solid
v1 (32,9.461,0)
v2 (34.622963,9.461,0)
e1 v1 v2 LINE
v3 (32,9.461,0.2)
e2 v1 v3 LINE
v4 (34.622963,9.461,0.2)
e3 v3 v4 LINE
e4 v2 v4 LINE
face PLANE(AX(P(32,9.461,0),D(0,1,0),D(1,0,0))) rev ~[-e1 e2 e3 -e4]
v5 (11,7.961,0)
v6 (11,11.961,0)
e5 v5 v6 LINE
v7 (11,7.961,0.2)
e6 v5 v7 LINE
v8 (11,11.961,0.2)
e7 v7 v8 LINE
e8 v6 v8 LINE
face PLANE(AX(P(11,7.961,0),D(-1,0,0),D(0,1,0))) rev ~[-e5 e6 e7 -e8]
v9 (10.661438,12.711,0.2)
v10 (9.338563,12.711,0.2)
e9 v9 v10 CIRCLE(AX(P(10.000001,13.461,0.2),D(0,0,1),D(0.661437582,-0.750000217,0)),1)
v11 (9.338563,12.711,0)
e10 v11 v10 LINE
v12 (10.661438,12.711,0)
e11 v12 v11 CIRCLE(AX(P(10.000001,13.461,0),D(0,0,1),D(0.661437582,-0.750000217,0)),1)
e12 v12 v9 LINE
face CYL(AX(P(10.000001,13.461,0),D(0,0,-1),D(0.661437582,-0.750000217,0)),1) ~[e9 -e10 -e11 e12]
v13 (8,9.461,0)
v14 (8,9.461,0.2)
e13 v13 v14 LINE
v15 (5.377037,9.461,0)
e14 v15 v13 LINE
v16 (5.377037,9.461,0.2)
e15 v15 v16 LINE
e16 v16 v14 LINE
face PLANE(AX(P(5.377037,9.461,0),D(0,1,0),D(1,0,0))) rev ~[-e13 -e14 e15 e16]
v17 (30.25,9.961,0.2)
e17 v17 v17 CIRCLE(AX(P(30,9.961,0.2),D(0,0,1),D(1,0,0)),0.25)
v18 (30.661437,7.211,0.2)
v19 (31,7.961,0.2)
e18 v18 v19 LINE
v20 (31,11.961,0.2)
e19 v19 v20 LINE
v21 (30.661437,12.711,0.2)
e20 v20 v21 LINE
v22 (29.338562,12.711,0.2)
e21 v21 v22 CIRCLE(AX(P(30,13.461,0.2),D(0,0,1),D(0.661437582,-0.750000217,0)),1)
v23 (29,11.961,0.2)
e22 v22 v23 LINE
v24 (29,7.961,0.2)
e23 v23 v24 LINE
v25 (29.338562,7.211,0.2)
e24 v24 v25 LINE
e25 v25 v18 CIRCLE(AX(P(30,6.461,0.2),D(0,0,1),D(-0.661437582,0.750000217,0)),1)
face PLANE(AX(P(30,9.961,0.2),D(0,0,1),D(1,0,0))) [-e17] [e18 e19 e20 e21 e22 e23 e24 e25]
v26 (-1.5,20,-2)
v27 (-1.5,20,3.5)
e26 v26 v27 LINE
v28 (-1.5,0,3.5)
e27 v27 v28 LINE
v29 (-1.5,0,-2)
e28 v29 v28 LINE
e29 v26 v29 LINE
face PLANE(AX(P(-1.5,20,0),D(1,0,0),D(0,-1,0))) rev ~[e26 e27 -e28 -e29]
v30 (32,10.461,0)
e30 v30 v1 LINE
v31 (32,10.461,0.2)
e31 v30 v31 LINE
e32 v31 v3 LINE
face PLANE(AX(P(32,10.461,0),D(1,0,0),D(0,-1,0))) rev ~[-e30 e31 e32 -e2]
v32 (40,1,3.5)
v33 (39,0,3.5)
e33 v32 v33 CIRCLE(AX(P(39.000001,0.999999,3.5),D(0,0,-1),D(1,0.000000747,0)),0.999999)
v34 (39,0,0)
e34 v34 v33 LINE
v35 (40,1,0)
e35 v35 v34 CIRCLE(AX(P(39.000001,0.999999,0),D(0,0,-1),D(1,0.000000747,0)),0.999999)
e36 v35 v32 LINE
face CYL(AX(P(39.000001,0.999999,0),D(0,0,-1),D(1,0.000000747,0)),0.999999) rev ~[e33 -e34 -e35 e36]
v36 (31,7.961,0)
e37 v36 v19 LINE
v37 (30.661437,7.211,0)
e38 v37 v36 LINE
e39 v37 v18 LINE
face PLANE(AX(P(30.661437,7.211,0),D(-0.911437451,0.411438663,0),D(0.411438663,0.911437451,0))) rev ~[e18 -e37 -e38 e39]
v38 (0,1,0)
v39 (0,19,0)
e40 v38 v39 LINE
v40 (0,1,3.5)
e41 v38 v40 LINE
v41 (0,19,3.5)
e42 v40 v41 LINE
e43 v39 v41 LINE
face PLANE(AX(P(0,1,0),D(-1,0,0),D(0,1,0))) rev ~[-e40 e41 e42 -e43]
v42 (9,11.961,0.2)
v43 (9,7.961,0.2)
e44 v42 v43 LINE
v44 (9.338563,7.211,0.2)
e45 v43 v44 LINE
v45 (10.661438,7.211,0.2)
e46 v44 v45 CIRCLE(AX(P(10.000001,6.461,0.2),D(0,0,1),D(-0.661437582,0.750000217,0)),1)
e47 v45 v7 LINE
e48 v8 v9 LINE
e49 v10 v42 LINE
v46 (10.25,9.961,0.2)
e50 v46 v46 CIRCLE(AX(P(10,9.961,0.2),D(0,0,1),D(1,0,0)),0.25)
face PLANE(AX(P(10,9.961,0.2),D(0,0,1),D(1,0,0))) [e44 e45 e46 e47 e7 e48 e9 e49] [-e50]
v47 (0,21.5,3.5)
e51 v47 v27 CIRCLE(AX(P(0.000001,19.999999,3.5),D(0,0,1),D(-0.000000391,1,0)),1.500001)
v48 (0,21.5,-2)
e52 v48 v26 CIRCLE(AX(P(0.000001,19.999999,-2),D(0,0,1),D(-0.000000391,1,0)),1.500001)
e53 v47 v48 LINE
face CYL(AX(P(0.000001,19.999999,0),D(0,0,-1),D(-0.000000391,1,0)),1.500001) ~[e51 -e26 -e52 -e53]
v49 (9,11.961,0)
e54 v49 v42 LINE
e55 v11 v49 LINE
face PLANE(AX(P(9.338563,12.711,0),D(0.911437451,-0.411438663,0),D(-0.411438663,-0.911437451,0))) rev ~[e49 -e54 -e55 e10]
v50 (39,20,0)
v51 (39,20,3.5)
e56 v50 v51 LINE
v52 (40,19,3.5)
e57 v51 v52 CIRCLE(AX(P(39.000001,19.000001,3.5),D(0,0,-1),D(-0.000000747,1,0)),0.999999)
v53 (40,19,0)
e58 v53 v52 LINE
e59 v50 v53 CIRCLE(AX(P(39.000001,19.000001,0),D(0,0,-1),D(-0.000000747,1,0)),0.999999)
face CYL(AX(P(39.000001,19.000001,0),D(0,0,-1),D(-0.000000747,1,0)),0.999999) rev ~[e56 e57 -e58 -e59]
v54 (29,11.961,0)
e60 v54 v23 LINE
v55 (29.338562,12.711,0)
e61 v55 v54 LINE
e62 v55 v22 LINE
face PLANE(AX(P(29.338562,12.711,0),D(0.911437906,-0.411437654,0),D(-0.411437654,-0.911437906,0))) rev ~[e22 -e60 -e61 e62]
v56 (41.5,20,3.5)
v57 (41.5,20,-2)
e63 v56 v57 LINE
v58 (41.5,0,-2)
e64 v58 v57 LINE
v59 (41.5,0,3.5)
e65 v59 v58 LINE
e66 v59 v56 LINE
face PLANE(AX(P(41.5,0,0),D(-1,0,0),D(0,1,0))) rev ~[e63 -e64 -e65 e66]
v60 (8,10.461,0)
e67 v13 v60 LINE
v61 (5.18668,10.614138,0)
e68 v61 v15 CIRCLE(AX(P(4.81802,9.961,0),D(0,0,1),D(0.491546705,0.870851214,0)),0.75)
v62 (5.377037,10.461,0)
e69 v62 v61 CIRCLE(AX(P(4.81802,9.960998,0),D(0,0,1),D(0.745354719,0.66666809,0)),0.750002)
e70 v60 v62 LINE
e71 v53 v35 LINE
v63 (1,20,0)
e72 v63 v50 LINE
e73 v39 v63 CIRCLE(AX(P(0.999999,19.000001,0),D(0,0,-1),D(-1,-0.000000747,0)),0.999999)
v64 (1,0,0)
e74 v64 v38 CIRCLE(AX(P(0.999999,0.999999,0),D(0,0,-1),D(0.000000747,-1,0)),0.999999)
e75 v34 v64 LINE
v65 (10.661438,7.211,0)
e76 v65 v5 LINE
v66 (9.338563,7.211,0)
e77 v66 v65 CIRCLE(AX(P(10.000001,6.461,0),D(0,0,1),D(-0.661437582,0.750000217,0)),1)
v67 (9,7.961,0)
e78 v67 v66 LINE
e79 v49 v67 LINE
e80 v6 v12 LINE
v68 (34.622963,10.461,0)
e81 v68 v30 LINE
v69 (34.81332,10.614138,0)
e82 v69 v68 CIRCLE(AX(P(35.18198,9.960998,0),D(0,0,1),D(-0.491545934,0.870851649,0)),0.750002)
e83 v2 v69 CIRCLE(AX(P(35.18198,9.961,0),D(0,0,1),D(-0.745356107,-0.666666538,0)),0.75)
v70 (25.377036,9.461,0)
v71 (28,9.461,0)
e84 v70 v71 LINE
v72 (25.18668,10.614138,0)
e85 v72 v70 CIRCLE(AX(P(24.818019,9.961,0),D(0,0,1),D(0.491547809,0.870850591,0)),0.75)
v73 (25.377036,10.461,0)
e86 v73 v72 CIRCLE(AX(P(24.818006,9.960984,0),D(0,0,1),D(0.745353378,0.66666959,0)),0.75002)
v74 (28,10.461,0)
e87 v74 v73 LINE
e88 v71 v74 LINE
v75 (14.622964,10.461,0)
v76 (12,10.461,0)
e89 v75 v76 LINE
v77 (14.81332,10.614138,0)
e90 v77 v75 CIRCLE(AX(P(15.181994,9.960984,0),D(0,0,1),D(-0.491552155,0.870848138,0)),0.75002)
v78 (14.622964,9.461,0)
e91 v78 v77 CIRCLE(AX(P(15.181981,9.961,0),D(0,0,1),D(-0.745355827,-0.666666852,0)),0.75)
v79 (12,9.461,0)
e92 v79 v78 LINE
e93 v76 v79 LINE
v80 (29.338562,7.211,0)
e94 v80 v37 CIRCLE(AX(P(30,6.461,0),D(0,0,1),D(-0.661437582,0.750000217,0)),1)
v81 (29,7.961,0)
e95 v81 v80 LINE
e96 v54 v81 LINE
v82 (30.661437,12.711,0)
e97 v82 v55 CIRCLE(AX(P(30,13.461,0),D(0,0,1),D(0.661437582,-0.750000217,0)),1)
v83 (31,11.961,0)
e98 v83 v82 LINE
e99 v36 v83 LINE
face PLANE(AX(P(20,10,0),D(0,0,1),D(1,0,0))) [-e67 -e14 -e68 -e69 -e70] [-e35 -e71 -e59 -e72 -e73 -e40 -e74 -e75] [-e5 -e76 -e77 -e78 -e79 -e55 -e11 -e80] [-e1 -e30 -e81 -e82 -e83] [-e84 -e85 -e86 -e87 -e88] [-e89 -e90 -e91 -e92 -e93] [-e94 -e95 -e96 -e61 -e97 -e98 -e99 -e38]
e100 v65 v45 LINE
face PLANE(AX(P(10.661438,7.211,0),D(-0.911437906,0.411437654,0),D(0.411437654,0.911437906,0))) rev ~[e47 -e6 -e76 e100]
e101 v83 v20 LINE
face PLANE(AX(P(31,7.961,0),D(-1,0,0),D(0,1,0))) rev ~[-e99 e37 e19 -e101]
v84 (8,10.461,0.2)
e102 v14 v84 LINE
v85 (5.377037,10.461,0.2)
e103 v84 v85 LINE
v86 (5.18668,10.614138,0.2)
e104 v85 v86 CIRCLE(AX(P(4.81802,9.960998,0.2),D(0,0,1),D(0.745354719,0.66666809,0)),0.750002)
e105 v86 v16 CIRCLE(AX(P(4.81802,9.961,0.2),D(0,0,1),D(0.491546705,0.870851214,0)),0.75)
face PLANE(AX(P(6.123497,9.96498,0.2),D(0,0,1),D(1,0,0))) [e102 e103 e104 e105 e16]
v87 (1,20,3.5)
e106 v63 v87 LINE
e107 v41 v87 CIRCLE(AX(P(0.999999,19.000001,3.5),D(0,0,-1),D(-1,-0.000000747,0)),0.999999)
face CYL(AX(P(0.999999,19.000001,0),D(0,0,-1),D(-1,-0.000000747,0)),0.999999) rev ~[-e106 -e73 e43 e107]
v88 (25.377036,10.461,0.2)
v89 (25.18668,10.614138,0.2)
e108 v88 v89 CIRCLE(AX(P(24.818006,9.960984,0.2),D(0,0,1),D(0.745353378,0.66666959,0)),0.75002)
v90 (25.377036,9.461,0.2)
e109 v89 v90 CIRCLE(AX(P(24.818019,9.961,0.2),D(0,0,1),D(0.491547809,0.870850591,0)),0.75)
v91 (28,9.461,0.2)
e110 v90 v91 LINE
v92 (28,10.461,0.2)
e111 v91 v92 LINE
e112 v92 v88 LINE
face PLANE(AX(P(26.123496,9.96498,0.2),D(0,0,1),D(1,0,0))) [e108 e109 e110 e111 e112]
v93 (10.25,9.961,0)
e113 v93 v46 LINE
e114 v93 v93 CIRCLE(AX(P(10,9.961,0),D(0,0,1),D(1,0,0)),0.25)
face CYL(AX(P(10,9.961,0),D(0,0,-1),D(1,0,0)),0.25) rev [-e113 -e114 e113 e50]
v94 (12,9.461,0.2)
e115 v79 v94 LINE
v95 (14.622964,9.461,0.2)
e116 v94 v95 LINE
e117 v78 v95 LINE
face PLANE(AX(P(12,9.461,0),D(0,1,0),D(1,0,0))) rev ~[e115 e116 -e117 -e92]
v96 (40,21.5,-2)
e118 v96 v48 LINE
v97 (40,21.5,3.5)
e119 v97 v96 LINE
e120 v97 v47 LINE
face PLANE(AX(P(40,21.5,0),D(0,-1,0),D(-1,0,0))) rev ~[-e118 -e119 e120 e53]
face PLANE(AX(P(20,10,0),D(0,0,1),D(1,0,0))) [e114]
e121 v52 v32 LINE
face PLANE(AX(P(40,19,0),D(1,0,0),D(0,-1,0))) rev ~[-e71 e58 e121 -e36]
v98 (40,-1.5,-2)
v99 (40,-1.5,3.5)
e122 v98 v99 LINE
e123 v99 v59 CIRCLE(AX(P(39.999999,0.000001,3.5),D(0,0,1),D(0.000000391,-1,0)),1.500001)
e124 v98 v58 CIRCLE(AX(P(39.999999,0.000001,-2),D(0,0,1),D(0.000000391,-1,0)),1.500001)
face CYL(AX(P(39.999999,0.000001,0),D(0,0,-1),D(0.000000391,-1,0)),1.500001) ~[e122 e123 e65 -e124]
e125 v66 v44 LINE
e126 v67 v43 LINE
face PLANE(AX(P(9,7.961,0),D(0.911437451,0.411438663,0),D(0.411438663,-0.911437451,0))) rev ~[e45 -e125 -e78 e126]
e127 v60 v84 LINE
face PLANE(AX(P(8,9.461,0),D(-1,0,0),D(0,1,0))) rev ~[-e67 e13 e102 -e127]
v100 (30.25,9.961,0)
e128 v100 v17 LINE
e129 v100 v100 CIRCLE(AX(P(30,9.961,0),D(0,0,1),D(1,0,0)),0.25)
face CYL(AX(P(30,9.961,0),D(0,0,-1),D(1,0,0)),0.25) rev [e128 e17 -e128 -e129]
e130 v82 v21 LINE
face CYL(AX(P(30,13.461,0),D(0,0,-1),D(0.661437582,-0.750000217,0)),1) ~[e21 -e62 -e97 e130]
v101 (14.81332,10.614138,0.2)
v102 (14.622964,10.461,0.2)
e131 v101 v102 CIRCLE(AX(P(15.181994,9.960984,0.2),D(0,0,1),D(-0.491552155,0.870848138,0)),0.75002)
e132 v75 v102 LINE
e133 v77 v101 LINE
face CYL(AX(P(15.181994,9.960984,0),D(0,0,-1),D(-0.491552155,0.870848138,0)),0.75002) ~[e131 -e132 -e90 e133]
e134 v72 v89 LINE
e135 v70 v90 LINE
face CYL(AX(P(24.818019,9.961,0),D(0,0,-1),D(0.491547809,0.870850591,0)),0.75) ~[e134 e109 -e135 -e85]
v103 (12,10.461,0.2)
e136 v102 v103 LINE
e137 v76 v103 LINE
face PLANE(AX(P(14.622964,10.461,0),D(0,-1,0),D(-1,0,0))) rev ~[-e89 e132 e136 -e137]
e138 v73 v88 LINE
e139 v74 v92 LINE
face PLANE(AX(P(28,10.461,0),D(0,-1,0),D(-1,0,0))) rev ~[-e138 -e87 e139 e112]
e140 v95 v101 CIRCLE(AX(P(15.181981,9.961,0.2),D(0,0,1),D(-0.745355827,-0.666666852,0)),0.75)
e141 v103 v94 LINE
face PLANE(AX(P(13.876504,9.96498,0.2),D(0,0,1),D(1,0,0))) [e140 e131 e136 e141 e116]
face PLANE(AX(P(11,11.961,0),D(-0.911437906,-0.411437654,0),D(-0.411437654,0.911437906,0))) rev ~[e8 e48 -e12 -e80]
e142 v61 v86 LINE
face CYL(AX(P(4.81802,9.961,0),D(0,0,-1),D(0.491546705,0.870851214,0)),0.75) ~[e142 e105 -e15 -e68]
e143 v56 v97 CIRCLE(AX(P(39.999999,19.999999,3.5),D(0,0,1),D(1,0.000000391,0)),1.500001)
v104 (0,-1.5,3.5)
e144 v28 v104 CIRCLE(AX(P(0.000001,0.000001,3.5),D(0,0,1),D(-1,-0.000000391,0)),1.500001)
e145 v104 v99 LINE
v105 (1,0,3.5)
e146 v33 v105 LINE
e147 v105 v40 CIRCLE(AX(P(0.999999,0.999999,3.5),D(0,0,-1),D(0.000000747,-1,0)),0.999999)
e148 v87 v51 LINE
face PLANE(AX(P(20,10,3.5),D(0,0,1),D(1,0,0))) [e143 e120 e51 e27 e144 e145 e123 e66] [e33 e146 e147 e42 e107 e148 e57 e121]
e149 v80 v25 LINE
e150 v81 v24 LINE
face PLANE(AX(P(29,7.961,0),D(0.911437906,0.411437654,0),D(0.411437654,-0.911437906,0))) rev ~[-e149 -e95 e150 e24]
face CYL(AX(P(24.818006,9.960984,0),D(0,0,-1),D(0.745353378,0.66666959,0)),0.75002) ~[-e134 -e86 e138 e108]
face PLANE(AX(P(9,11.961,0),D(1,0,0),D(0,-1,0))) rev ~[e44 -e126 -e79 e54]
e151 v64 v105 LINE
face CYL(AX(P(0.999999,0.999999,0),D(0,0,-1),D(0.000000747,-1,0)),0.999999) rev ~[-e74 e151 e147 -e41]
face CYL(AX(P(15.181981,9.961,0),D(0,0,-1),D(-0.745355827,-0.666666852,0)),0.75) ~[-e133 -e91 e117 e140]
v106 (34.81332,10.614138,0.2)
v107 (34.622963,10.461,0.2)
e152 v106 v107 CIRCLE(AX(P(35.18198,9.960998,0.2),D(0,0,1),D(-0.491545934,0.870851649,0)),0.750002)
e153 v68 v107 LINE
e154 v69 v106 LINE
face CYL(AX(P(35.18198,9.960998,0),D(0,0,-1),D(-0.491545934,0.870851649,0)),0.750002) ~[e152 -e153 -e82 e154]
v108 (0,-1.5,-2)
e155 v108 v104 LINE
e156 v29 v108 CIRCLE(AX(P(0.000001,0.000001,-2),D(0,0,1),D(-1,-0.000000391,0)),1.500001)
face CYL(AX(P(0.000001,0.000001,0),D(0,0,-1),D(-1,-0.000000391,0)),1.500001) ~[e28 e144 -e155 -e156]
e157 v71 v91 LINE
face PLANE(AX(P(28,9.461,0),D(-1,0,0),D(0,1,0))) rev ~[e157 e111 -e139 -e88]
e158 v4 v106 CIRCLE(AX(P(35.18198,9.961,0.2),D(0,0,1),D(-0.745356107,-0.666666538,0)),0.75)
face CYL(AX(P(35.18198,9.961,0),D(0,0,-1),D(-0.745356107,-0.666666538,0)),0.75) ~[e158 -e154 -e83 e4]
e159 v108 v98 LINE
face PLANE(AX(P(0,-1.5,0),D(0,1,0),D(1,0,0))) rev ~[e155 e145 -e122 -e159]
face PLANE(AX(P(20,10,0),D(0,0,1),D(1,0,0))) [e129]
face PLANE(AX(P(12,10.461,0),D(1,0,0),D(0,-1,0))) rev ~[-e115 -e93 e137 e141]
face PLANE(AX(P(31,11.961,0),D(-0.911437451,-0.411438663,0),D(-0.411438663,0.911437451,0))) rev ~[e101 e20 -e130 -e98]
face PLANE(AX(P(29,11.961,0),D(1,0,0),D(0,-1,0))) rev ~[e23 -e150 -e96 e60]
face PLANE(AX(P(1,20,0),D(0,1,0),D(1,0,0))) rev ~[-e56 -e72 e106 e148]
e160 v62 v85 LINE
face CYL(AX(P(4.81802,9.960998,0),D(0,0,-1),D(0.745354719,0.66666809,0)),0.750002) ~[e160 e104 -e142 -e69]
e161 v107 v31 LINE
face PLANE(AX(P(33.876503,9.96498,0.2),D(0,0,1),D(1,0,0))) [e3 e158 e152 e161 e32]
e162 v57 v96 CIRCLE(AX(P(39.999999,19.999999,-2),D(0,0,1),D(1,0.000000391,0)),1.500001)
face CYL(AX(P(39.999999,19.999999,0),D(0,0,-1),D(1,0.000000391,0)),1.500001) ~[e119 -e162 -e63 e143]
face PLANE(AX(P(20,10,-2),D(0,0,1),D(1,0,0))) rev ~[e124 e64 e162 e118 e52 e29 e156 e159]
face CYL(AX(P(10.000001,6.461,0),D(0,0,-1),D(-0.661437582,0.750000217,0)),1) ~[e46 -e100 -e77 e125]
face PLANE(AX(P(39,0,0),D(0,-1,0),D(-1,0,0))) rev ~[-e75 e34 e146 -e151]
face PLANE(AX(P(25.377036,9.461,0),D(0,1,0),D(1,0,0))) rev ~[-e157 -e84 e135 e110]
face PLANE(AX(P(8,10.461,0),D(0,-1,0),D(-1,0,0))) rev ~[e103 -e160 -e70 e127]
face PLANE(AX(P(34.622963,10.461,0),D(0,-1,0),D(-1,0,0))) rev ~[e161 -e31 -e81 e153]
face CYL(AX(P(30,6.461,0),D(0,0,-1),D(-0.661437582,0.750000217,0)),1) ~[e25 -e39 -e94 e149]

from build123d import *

# Parameters (mm, degrees)
F0_R     = 0.25
F1_DEPTH = 2
F2_DEPTH = 3.5
F3_DEPTH = 0.2


with BuildPart() as f1:
    # F0 (on Top) → F1 (new body)
    with BuildSketch(Plane.XY):
        with BuildLine():
            ThreePointArc((0, 21.5), (-1.06066, 21.06066), (-1.5, 20))
            Line((-1.5, 20), (-1.5, 0))
            ThreePointArc((-1.5, 0), (-1.06066, -1.06066), (0, -1.5))
            Line((0, -1.5), (40, -1.5))
            ThreePointArc((40, -1.5), (41.06066, -1.06066), (41.5, 0))
            Line((41.5, 0), (41.5, 20))
            ThreePointArc((41.5, 20), (41.06066, 21.06066), (40, 21.5))
            Line((40, 21.5), (0, 21.5))
        make_face()
        with BuildLine():
            Line((19.75, 0), (1, 0))
            ThreePointArc((1, 0), (0.292893, 0.292893), (0, 1))
            Line((0, 1), (0, 19))
            ThreePointArc((0, 19), (0.292893, 19.707107), (1, 20))
            Line((1, 20), (19.75, 20))
            Line((19.75, 20), (20.25, 20))
            Line((20.25, 20), (39, 20))
            ThreePointArc((39, 20), (39.707107, 19.707107), (40, 19))
            Line((40, 19), (40, 1))
            ThreePointArc((40, 1), (39.707107, 0.292893), (39, 0))
            Line((39, 0), (20.25, 0))
            Line((20.25, 0), (19.75, 0))
        make_face(mode=Mode.SUBTRACT)
        with BuildLine():
            ThreePointArc((0, 1), (0.292893, 0.292893), (1, 0))
            Line((1, 0), (19.75, 0))
            Line((19.75, 0), (19.75, 10))
            Line((19.75, 10), (19.75, 20))
            Line((19.75, 20), (1, 20))
            ThreePointArc((1, 20), (0.292893, 19.707107), (0, 19))
            Line((0, 19), (0, 1))
        make_face()
        with BuildLine():
            Line((10.661438, 12.711), (11, 11.961))
            Line((11, 11.961), (11.338563, 12.711))
            Line((11.338563, 12.711), (11.99852, 13.37373))
            Line((11.99852, 13.37373), (14.216055, 15.591268))
            ThreePointArc((14.216055, 15.591268), (15.889087, 16.557194), (14.923162, 14.884161))
            Line((14.923162, 14.884161), (12, 11.961))
            Line((12, 11.961), (12, 10.461))
            Line((12, 10.461), (14.622964, 10.461))
            ThreePointArc((14.622964, 10.461), (14.711865, 10.545372), (14.81332, 10.614138))
            ThreePointArc((14.81332, 10.614138), (15.921966, 9.838845), (14.622964, 9.461))
            Line((14.622964, 9.461), (12, 9.461))
            Line((12, 9.461), (12, 7.961))
            Line((12, 7.961), (14.923162, 5.037839))
            ThreePointArc((14.923162, 5.037839), (15.889087, 3.364806), (14.216055, 4.330732))
            Line((14.216055, 4.330732), (11.99852, 6.54827))
            Line((11.99852, 6.54827), (11.338563, 7.211))
            Line((11.338563, 7.211), (11, 7.961))
            Line((11, 7.961), (10.661438, 7.211))
            ThreePointArc((10.661438, 7.211), (10, 5.461), (9.338563, 7.211))
            Line((9.338563, 7.211), (9, 7.961))
            Line((9, 7.961), (8.661438, 7.211))
            Line((8.661438, 7.211), (8.001481, 6.54827))
            Line((8.001481, 6.54827), (5.783946, 4.330732))
            ThreePointArc((5.783946, 4.330732), (4.110914, 3.364806), (5.076839, 5.037839))
            Line((5.076839, 5.037839), (8, 7.961))
            Line((8, 7.961), (8, 9.461))
            Line((8, 9.461), (5.377037, 9.461))
            ThreePointArc((5.377037, 9.461), (4.078035, 9.838845), (5.18668, 10.614138))
            ThreePointArc((5.18668, 10.614138), (5.288136, 10.545372), (5.377037, 10.461))
            Line((5.377037, 10.461), (8, 10.461))
            Line((8, 10.461), (8, 11.961))
            Line((8, 11.961), (5.076839, 14.884161))
            ThreePointArc((5.076839, 14.884161), (4.110914, 16.557194), (5.783946, 15.591268))
            Line((5.783946, 15.591268), (8.001481, 13.37373))
            Line((8.001481, 13.37373), (8.661438, 12.711))
            Line((8.661438, 12.711), (9, 11.961))
            Line((9, 11.961), (9.338563, 12.711))
            ThreePointArc((9.338563, 12.711), (10, 14.461), (10.661438, 12.711))
        make_face(mode=Mode.SUBTRACT)
        with BuildLine():
            Line((11, 7.961), (11, 9.961))
            Line((11, 9.961), (11, 11.961))
            Line((11, 11.961), (10.661438, 12.711))
            ThreePointArc((10.661438, 12.711), (10, 14.461), (9.338563, 12.711))
            Line((9.338563, 12.711), (9, 11.961))
            Line((9, 11.961), (9, 9.961))
            Line((9, 9.961), (9, 7.961))
            Line((9, 7.961), (9.338563, 7.211))
            ThreePointArc((9.338563, 7.211), (10, 5.461), (10.661438, 7.211))
            Line((10.661438, 7.211), (11, 7.961))
        make_face()
        with Locations((10, 9.961)):
            Circle(F0_R, mode=Mode.SUBTRACT)
        with BuildLine():
            Line((9, 9.961), (9, 11.961))
            Line((9, 11.961), (8.661438, 12.711))
            Line((8.661438, 12.711), (8.001481, 13.37373))
            Line((8.001481, 13.37373), (5.783946, 15.591268))
            ThreePointArc((5.783946, 15.591268), (4.110914, 16.557194), (5.076839, 14.884161))
            Line((5.076839, 14.884161), (8, 11.961))
            Line((8, 11.961), (8, 10.461))
            Line((8, 10.461), (8, 9.961))
            Line((8, 9.961), (8, 9.461))
            Line((8, 9.461), (8, 7.961))
            Line((8, 7.961), (5.076839, 5.037839))
            ThreePointArc((5.076839, 5.037839), (4.110914, 3.364806), (5.783946, 4.330732))
            Line((5.783946, 4.330732), (8.001481, 6.54827))
            Line((8.001481, 6.54827), (8.661438, 7.211))
            Line((8.661438, 7.211), (9, 7.961))
            Line((9, 7.961), (9, 9.961))
        make_face()
        with BuildLine():
            Line((8, 9.961), (8, 10.461))
            Line((8, 10.461), (5.377037, 10.461))
            ThreePointArc((5.377037, 10.461), (5.288136, 10.545372), (5.18668, 10.614138))
            ThreePointArc((5.18668, 10.614138), (4.078035, 9.838845), (5.377037, 9.461))
            Line((5.377037, 9.461), (8, 9.461))
            Line((8, 9.461), (8, 9.961))
        make_face()
        with BuildLine():
            Line((11, 11.961), (11, 9.961))
            Line((11, 9.961), (11, 7.961))
            Line((11, 7.961), (11.338563, 7.211))
            Line((11.338563, 7.211), (11.99852, 6.54827))
            Line((11.99852, 6.54827), (14.216055, 4.330732))
            ThreePointArc((14.216055, 4.330732), (15.889087, 3.364806), (14.923162, 5.037839))
            Line((14.923162, 5.037839), (12, 7.961))
            Line((12, 7.961), (12, 9.461))
            Line((12, 9.461), (12, 9.961))
            Line((12, 9.961), (12, 10.461))
            Line((12, 10.461), (12, 11.961))
            Line((12, 11.961), (14.923162, 14.884161))
            ThreePointArc((14.923162, 14.884161), (15.889087, 16.557194), (14.216055, 15.591268))
            Line((14.216055, 15.591268), (11.99852, 13.37373))
            Line((11.99852, 13.37373), (11.338563, 12.711))
            Line((11.338563, 12.711), (11, 11.961))
        make_face()
        with BuildLine():
            Line((14.622964, 10.461), (12, 10.461))
            Line((12, 10.461), (12, 9.961))
            Line((12, 9.961), (12, 9.461))
            Line((12, 9.461), (14.622964, 9.461))
            ThreePointArc((14.622964, 9.461), (15.921966, 9.838845), (14.81332, 10.614138))
            ThreePointArc((14.81332, 10.614138), (14.711865, 10.545372), (14.622964, 10.461))
        make_face()
        Polygon((19.75, 10), (19.75, 0), (20.25, 0), (20.25, 20), (19.75, 20), align=None)
        with BuildLine():
            Line((20.25, 20), (20.25, 0))
            Line((20.25, 0), (39, 0))
            ThreePointArc((39, 0), (39.707107, 0.292893), (40, 1))
            Line((40, 1), (40, 19))
            ThreePointArc((40, 19), (39.707107, 19.707107), (39, 20))
            Line((39, 20), (20.25, 20))
        make_face()
        with BuildLine():
            Line((31, 11.961), (31.338562, 12.711))
            Line((31.338562, 12.711), (31.998519, 13.37373))
            Line((31.998519, 13.37373), (34.216054, 15.591268))
            ThreePointArc((34.216054, 15.591268), (35.889086, 16.557194), (34.923161, 14.884161))
            Line((34.923161, 14.884161), (32, 11.961))
            Line((32, 11.961), (32, 10.461))
            Line((32, 10.461), (34.622963, 10.461))
            ThreePointArc((34.622963, 10.461), (34.711864, 10.545372), (34.81332, 10.614138))
            ThreePointArc((34.81332, 10.614138), (35.921965, 9.838845), (34.622963, 9.461))
            Line((34.622963, 9.461), (32, 9.461))
            Line((32, 9.461), (32, 7.961))
            Line((32, 7.961), (34.923161, 5.037839))
            ThreePointArc((34.923161, 5.037839), (35.889086, 3.364806), (34.216054, 4.330732))
            Line((34.216054, 4.330732), (31.998519, 6.54827))
            Line((31.998519, 6.54827), (31.338562, 7.211))
            Line((31.338562, 7.211), (31, 7.961))
            Line((31, 7.961), (30.661437, 7.211))
            ThreePointArc((30.661437, 7.211), (30, 5.461), (29.338562, 7.211))
            Line((29.338562, 7.211), (29, 7.961))
            Line((29, 7.961), (28.661437, 7.211))
            Line((28.661437, 7.211), (28.00148, 6.54827))
            Line((28.00148, 6.54827), (25.783945, 4.330732))
            ThreePointArc((25.783945, 4.330732), (24.110913, 3.364806), (25.076838, 5.037839))
            Line((25.076838, 5.037839), (28, 7.961))
            Line((28, 7.961), (28, 9.461))
            Line((28, 9.461), (25.377036, 9.461))
            ThreePointArc((25.377036, 9.461), (24.078034, 9.838845), (25.18668, 10.614138))
            ThreePointArc((25.18668, 10.614138), (25.288135, 10.545372), (25.377036, 10.461))
            Line((25.377036, 10.461), (28, 10.461))
            Line((28, 10.461), (28, 11.961))
            Line((28, 11.961), (25.076838, 14.884161))
            ThreePointArc((25.076838, 14.884161), (24.110913, 16.557194), (25.783945, 15.591268))
            Line((25.783945, 15.591268), (28.00148, 13.37373))
            Line((28.00148, 13.37373), (28.661437, 12.711))
            Line((28.661437, 12.711), (29, 11.961))
            Line((29, 11.961), (29.338562, 12.711))
            ThreePointArc((29.338562, 12.711), (30, 14.461), (30.661437, 12.711))
            Line((30.661437, 12.711), (31, 11.961))
        make_face(mode=Mode.SUBTRACT)
        with BuildLine():
            Line((34.622963, 10.461), (32, 10.461))
            Line((32, 10.461), (32, 9.961))
            Line((32, 9.961), (32, 9.461))
            Line((32, 9.461), (34.622963, 9.461))
            ThreePointArc((34.622963, 9.461), (35.921965, 9.838845), (34.81332, 10.614138))
            ThreePointArc((34.81332, 10.614138), (34.711864, 10.545372), (34.622963, 10.461))
        make_face()
        with BuildLine():
            Line((31.998519, 13.37373), (31.338562, 12.711))
            Line((31.338562, 12.711), (31, 11.961))
            Line((31, 11.961), (31, 9.961))
            Line((31, 9.961), (31, 7.961))
            Line((31, 7.961), (31.338562, 7.211))
            Line((31.338562, 7.211), (31.998519, 6.54827))
            Line((31.998519, 6.54827), (34.216054, 4.330732))
            ThreePointArc((34.216054, 4.330732), (35.889086, 3.364806), (34.923161, 5.037839))
            Line((34.923161, 5.037839), (32, 7.961))
            Line((32, 7.961), (32, 9.461))
            Line((32, 9.461), (32, 9.961))
            Line((32, 9.961), (32, 10.461))
            Line((32, 10.461), (32, 11.961))
            Line((32, 11.961), (34.923161, 14.884161))
            ThreePointArc((34.923161, 14.884161), (35.889086, 16.557194), (34.216054, 15.591268))
            Line((34.216054, 15.591268), (31.998519, 13.37373))
        make_face()
        with BuildLine():
            Line((31, 9.961), (31, 11.961))
            Line((31, 11.961), (30.661437, 12.711))
            ThreePointArc((30.661437, 12.711), (30, 14.461), (29.338562, 12.711))
            Line((29.338562, 12.711), (29, 11.961))
            Line((29, 11.961), (29, 9.961))
            Line((29, 9.961), (29, 7.961))
            Line((29, 7.961), (29.338562, 7.211))
            ThreePointArc((29.338562, 7.211), (30, 5.461), (30.661437, 7.211))
            Line((30.661437, 7.211), (31, 7.961))
            Line((31, 7.961), (31, 9.961))
        make_face()
        with Locations((30, 9.961)):
            Circle(F0_R, mode=Mode.SUBTRACT)
        with BuildLine():
            Line((29, 9.961), (29, 11.961))
            Line((29, 11.961), (28.661437, 12.711))
            Line((28.661437, 12.711), (28.00148, 13.37373))
            Line((28.00148, 13.37373), (25.783945, 15.591268))
            ThreePointArc((25.783945, 15.591268), (24.110913, 16.557194), (25.076838, 14.884161))
            Line((25.076838, 14.884161), (28, 11.961))
            Line((28, 11.961), (28, 10.461))
            Line((28, 10.461), (28, 9.961))
            Line((28, 9.961), (28, 9.461))
            Line((28, 9.461), (28, 7.961))
            Line((28, 7.961), (25.076838, 5.037839))
            ThreePointArc((25.076838, 5.037839), (24.110913, 3.364806), (25.783945, 4.330732))
            Line((25.783945, 4.330732), (28.00148, 6.54827))
            Line((28.00148, 6.54827), (28.661437, 7.211))
            Line((28.661437, 7.211), (29, 7.961))
            Line((29, 7.961), (29, 9.961))
        make_face()
        with BuildLine():
            Line((28, 9.961), (28, 10.461))
            Line((28, 10.461), (25.377036, 10.461))
            ThreePointArc((25.377036, 10.461), (25.288135, 10.545372), (25.18668, 10.614138))
            ThreePointArc((25.18668, 10.614138), (24.078034, 9.838845), (25.377036, 9.461))
            Line((25.377036, 9.461), (28, 9.461))
            Line((28, 9.461), (28, 9.961))
        make_face()
        with Locations((30, 9.961)):
            Circle(F0_R)
        with Locations((10, 9.961)):
            Circle(F0_R)
    extrude(amount=-F1_DEPTH)

    # F0 (on Top) → F2 (join)
    with BuildSketch(Plane.XY):
        with BuildLine():
            ThreePointArc((0, 21.5), (-1.06066, 21.06066), (-1.5, 20))
            Line((-1.5, 20), (-1.5, 0))
            ThreePointArc((-1.5, 0), (-1.06066, -1.06066), (0, -1.5))
            Line((0, -1.5), (40, -1.5))
            ThreePointArc((40, -1.5), (41.06066, -1.06066), (41.5, 0))
            Line((41.5, 0), (41.5, 20))
            ThreePointArc((41.5, 20), (41.06066, 21.06066), (40, 21.5))
            Line((40, 21.5), (0, 21.5))
        make_face()
        with BuildLine():
            Line((19.75, 0), (1, 0))
            ThreePointArc((1, 0), (0.292893, 0.292893), (0, 1))
            Line((0, 1), (0, 19))
            ThreePointArc((0, 19), (0.292893, 19.707107), (1, 20))
            Line((1, 20), (19.75, 20))
            Line((19.75, 20), (20.25, 20))
            Line((20.25, 20), (39, 20))
            ThreePointArc((39, 20), (39.707107, 19.707107), (40, 19))
            Line((40, 19), (40, 1))
            ThreePointArc((40, 1), (39.707107, 0.292893), (39, 0))
            Line((39, 0), (20.25, 0))
            Line((20.25, 0), (19.75, 0))
        make_face(mode=Mode.SUBTRACT)
    extrude(amount=F2_DEPTH)

    # F0 (on Top) → F3 (join)
    with BuildSketch(Plane.XY):
        with BuildLine():
            Line((11, 7.961), (11, 9.961))
            Line((11, 9.961), (11, 11.961))
            Line((11, 11.961), (10.661438, 12.711))
            ThreePointArc((10.661438, 12.711), (10, 14.461), (9.338563, 12.711))
            Line((9.338563, 12.711), (9, 11.961))
            Line((9, 11.961), (9, 9.961))
            Line((9, 9.961), (9, 7.961))
            Line((9, 7.961), (9.338563, 7.211))
            ThreePointArc((9.338563, 7.211), (10, 5.461), (10.661438, 7.211))
            Line((10.661438, 7.211), (11, 7.961))
        make_face()
        with Locations((10, 9.961)):
            Circle(F0_R, mode=Mode.SUBTRACT)
        with BuildLine():
            Line((8, 9.961), (8, 10.461))
            Line((8, 10.461), (5.377037, 10.461))
            ThreePointArc((5.377037, 10.461), (5.288136, 10.545372), (5.18668, 10.614138))
            ThreePointArc((5.18668, 10.614138), (4.078035, 9.838845), (5.377037, 9.461))
            Line((5.377037, 9.461), (8, 9.461))
            Line((8, 9.461), (8, 9.961))
        make_face()
        with BuildLine():
            Line((14.622964, 10.461), (12, 10.461))
            Line((12, 10.461), (12, 9.961))
            Line((12, 9.961), (12, 9.461))
            Line((12, 9.461), (14.622964, 9.461))
            ThreePointArc((14.622964, 9.461), (15.921966, 9.838845), (14.81332, 10.614138))
            ThreePointArc((14.81332, 10.614138), (14.711865, 10.545372), (14.622964, 10.461))
        make_face()
        with BuildLine():
            Line((28, 9.961), (28, 10.461))
            Line((28, 10.461), (25.377036, 10.461))
            ThreePointArc((25.377036, 10.461), (25.288135, 10.545372), (25.18668, 10.614138))
            ThreePointArc((25.18668, 10.614138), (24.078034, 9.838845), (25.377036, 9.461))
            Line((25.377036, 9.461), (28, 9.461))
            Line((28, 9.461), (28, 9.961))
        make_face()
        with BuildLine():
            Line((31, 9.961), (31, 11.961))
            Line((31, 11.961), (30.661437, 12.711))
            ThreePointArc((30.661437, 12.711), (30, 14.461), (29.338562, 12.711))
            Line((29.338562, 12.711), (29, 11.961))
            Line((29, 11.961), (29, 9.961))
            Line((29, 9.961), (29, 7.961))
            Line((29, 7.961), (29.338562, 7.211))
            ThreePointArc((29.338562, 7.211), (30, 5.461), (30.661437, 7.211))
            Line((30.661437, 7.211), (31, 7.961))
            Line((31, 7.961), (31, 9.961))
        make_face()
        with Locations((30, 9.961)):
            Circle(F0_R, mode=Mode.SUBTRACT)
        with BuildLine():
            Line((34.622963, 10.461), (32, 10.461))
            Line((32, 10.461), (32, 9.961))
            Line((32, 9.961), (32, 9.461))
            Line((32, 9.461), (34.622963, 9.461))
            ThreePointArc((34.622963, 9.461), (35.921965, 9.838845), (34.81332, 10.614138))
            ThreePointArc((34.81332, 10.614138), (34.711864, 10.545372), (34.622963, 10.461))
        make_face()
    extrude(amount=F3_DEPTH)


solid = f1.part
